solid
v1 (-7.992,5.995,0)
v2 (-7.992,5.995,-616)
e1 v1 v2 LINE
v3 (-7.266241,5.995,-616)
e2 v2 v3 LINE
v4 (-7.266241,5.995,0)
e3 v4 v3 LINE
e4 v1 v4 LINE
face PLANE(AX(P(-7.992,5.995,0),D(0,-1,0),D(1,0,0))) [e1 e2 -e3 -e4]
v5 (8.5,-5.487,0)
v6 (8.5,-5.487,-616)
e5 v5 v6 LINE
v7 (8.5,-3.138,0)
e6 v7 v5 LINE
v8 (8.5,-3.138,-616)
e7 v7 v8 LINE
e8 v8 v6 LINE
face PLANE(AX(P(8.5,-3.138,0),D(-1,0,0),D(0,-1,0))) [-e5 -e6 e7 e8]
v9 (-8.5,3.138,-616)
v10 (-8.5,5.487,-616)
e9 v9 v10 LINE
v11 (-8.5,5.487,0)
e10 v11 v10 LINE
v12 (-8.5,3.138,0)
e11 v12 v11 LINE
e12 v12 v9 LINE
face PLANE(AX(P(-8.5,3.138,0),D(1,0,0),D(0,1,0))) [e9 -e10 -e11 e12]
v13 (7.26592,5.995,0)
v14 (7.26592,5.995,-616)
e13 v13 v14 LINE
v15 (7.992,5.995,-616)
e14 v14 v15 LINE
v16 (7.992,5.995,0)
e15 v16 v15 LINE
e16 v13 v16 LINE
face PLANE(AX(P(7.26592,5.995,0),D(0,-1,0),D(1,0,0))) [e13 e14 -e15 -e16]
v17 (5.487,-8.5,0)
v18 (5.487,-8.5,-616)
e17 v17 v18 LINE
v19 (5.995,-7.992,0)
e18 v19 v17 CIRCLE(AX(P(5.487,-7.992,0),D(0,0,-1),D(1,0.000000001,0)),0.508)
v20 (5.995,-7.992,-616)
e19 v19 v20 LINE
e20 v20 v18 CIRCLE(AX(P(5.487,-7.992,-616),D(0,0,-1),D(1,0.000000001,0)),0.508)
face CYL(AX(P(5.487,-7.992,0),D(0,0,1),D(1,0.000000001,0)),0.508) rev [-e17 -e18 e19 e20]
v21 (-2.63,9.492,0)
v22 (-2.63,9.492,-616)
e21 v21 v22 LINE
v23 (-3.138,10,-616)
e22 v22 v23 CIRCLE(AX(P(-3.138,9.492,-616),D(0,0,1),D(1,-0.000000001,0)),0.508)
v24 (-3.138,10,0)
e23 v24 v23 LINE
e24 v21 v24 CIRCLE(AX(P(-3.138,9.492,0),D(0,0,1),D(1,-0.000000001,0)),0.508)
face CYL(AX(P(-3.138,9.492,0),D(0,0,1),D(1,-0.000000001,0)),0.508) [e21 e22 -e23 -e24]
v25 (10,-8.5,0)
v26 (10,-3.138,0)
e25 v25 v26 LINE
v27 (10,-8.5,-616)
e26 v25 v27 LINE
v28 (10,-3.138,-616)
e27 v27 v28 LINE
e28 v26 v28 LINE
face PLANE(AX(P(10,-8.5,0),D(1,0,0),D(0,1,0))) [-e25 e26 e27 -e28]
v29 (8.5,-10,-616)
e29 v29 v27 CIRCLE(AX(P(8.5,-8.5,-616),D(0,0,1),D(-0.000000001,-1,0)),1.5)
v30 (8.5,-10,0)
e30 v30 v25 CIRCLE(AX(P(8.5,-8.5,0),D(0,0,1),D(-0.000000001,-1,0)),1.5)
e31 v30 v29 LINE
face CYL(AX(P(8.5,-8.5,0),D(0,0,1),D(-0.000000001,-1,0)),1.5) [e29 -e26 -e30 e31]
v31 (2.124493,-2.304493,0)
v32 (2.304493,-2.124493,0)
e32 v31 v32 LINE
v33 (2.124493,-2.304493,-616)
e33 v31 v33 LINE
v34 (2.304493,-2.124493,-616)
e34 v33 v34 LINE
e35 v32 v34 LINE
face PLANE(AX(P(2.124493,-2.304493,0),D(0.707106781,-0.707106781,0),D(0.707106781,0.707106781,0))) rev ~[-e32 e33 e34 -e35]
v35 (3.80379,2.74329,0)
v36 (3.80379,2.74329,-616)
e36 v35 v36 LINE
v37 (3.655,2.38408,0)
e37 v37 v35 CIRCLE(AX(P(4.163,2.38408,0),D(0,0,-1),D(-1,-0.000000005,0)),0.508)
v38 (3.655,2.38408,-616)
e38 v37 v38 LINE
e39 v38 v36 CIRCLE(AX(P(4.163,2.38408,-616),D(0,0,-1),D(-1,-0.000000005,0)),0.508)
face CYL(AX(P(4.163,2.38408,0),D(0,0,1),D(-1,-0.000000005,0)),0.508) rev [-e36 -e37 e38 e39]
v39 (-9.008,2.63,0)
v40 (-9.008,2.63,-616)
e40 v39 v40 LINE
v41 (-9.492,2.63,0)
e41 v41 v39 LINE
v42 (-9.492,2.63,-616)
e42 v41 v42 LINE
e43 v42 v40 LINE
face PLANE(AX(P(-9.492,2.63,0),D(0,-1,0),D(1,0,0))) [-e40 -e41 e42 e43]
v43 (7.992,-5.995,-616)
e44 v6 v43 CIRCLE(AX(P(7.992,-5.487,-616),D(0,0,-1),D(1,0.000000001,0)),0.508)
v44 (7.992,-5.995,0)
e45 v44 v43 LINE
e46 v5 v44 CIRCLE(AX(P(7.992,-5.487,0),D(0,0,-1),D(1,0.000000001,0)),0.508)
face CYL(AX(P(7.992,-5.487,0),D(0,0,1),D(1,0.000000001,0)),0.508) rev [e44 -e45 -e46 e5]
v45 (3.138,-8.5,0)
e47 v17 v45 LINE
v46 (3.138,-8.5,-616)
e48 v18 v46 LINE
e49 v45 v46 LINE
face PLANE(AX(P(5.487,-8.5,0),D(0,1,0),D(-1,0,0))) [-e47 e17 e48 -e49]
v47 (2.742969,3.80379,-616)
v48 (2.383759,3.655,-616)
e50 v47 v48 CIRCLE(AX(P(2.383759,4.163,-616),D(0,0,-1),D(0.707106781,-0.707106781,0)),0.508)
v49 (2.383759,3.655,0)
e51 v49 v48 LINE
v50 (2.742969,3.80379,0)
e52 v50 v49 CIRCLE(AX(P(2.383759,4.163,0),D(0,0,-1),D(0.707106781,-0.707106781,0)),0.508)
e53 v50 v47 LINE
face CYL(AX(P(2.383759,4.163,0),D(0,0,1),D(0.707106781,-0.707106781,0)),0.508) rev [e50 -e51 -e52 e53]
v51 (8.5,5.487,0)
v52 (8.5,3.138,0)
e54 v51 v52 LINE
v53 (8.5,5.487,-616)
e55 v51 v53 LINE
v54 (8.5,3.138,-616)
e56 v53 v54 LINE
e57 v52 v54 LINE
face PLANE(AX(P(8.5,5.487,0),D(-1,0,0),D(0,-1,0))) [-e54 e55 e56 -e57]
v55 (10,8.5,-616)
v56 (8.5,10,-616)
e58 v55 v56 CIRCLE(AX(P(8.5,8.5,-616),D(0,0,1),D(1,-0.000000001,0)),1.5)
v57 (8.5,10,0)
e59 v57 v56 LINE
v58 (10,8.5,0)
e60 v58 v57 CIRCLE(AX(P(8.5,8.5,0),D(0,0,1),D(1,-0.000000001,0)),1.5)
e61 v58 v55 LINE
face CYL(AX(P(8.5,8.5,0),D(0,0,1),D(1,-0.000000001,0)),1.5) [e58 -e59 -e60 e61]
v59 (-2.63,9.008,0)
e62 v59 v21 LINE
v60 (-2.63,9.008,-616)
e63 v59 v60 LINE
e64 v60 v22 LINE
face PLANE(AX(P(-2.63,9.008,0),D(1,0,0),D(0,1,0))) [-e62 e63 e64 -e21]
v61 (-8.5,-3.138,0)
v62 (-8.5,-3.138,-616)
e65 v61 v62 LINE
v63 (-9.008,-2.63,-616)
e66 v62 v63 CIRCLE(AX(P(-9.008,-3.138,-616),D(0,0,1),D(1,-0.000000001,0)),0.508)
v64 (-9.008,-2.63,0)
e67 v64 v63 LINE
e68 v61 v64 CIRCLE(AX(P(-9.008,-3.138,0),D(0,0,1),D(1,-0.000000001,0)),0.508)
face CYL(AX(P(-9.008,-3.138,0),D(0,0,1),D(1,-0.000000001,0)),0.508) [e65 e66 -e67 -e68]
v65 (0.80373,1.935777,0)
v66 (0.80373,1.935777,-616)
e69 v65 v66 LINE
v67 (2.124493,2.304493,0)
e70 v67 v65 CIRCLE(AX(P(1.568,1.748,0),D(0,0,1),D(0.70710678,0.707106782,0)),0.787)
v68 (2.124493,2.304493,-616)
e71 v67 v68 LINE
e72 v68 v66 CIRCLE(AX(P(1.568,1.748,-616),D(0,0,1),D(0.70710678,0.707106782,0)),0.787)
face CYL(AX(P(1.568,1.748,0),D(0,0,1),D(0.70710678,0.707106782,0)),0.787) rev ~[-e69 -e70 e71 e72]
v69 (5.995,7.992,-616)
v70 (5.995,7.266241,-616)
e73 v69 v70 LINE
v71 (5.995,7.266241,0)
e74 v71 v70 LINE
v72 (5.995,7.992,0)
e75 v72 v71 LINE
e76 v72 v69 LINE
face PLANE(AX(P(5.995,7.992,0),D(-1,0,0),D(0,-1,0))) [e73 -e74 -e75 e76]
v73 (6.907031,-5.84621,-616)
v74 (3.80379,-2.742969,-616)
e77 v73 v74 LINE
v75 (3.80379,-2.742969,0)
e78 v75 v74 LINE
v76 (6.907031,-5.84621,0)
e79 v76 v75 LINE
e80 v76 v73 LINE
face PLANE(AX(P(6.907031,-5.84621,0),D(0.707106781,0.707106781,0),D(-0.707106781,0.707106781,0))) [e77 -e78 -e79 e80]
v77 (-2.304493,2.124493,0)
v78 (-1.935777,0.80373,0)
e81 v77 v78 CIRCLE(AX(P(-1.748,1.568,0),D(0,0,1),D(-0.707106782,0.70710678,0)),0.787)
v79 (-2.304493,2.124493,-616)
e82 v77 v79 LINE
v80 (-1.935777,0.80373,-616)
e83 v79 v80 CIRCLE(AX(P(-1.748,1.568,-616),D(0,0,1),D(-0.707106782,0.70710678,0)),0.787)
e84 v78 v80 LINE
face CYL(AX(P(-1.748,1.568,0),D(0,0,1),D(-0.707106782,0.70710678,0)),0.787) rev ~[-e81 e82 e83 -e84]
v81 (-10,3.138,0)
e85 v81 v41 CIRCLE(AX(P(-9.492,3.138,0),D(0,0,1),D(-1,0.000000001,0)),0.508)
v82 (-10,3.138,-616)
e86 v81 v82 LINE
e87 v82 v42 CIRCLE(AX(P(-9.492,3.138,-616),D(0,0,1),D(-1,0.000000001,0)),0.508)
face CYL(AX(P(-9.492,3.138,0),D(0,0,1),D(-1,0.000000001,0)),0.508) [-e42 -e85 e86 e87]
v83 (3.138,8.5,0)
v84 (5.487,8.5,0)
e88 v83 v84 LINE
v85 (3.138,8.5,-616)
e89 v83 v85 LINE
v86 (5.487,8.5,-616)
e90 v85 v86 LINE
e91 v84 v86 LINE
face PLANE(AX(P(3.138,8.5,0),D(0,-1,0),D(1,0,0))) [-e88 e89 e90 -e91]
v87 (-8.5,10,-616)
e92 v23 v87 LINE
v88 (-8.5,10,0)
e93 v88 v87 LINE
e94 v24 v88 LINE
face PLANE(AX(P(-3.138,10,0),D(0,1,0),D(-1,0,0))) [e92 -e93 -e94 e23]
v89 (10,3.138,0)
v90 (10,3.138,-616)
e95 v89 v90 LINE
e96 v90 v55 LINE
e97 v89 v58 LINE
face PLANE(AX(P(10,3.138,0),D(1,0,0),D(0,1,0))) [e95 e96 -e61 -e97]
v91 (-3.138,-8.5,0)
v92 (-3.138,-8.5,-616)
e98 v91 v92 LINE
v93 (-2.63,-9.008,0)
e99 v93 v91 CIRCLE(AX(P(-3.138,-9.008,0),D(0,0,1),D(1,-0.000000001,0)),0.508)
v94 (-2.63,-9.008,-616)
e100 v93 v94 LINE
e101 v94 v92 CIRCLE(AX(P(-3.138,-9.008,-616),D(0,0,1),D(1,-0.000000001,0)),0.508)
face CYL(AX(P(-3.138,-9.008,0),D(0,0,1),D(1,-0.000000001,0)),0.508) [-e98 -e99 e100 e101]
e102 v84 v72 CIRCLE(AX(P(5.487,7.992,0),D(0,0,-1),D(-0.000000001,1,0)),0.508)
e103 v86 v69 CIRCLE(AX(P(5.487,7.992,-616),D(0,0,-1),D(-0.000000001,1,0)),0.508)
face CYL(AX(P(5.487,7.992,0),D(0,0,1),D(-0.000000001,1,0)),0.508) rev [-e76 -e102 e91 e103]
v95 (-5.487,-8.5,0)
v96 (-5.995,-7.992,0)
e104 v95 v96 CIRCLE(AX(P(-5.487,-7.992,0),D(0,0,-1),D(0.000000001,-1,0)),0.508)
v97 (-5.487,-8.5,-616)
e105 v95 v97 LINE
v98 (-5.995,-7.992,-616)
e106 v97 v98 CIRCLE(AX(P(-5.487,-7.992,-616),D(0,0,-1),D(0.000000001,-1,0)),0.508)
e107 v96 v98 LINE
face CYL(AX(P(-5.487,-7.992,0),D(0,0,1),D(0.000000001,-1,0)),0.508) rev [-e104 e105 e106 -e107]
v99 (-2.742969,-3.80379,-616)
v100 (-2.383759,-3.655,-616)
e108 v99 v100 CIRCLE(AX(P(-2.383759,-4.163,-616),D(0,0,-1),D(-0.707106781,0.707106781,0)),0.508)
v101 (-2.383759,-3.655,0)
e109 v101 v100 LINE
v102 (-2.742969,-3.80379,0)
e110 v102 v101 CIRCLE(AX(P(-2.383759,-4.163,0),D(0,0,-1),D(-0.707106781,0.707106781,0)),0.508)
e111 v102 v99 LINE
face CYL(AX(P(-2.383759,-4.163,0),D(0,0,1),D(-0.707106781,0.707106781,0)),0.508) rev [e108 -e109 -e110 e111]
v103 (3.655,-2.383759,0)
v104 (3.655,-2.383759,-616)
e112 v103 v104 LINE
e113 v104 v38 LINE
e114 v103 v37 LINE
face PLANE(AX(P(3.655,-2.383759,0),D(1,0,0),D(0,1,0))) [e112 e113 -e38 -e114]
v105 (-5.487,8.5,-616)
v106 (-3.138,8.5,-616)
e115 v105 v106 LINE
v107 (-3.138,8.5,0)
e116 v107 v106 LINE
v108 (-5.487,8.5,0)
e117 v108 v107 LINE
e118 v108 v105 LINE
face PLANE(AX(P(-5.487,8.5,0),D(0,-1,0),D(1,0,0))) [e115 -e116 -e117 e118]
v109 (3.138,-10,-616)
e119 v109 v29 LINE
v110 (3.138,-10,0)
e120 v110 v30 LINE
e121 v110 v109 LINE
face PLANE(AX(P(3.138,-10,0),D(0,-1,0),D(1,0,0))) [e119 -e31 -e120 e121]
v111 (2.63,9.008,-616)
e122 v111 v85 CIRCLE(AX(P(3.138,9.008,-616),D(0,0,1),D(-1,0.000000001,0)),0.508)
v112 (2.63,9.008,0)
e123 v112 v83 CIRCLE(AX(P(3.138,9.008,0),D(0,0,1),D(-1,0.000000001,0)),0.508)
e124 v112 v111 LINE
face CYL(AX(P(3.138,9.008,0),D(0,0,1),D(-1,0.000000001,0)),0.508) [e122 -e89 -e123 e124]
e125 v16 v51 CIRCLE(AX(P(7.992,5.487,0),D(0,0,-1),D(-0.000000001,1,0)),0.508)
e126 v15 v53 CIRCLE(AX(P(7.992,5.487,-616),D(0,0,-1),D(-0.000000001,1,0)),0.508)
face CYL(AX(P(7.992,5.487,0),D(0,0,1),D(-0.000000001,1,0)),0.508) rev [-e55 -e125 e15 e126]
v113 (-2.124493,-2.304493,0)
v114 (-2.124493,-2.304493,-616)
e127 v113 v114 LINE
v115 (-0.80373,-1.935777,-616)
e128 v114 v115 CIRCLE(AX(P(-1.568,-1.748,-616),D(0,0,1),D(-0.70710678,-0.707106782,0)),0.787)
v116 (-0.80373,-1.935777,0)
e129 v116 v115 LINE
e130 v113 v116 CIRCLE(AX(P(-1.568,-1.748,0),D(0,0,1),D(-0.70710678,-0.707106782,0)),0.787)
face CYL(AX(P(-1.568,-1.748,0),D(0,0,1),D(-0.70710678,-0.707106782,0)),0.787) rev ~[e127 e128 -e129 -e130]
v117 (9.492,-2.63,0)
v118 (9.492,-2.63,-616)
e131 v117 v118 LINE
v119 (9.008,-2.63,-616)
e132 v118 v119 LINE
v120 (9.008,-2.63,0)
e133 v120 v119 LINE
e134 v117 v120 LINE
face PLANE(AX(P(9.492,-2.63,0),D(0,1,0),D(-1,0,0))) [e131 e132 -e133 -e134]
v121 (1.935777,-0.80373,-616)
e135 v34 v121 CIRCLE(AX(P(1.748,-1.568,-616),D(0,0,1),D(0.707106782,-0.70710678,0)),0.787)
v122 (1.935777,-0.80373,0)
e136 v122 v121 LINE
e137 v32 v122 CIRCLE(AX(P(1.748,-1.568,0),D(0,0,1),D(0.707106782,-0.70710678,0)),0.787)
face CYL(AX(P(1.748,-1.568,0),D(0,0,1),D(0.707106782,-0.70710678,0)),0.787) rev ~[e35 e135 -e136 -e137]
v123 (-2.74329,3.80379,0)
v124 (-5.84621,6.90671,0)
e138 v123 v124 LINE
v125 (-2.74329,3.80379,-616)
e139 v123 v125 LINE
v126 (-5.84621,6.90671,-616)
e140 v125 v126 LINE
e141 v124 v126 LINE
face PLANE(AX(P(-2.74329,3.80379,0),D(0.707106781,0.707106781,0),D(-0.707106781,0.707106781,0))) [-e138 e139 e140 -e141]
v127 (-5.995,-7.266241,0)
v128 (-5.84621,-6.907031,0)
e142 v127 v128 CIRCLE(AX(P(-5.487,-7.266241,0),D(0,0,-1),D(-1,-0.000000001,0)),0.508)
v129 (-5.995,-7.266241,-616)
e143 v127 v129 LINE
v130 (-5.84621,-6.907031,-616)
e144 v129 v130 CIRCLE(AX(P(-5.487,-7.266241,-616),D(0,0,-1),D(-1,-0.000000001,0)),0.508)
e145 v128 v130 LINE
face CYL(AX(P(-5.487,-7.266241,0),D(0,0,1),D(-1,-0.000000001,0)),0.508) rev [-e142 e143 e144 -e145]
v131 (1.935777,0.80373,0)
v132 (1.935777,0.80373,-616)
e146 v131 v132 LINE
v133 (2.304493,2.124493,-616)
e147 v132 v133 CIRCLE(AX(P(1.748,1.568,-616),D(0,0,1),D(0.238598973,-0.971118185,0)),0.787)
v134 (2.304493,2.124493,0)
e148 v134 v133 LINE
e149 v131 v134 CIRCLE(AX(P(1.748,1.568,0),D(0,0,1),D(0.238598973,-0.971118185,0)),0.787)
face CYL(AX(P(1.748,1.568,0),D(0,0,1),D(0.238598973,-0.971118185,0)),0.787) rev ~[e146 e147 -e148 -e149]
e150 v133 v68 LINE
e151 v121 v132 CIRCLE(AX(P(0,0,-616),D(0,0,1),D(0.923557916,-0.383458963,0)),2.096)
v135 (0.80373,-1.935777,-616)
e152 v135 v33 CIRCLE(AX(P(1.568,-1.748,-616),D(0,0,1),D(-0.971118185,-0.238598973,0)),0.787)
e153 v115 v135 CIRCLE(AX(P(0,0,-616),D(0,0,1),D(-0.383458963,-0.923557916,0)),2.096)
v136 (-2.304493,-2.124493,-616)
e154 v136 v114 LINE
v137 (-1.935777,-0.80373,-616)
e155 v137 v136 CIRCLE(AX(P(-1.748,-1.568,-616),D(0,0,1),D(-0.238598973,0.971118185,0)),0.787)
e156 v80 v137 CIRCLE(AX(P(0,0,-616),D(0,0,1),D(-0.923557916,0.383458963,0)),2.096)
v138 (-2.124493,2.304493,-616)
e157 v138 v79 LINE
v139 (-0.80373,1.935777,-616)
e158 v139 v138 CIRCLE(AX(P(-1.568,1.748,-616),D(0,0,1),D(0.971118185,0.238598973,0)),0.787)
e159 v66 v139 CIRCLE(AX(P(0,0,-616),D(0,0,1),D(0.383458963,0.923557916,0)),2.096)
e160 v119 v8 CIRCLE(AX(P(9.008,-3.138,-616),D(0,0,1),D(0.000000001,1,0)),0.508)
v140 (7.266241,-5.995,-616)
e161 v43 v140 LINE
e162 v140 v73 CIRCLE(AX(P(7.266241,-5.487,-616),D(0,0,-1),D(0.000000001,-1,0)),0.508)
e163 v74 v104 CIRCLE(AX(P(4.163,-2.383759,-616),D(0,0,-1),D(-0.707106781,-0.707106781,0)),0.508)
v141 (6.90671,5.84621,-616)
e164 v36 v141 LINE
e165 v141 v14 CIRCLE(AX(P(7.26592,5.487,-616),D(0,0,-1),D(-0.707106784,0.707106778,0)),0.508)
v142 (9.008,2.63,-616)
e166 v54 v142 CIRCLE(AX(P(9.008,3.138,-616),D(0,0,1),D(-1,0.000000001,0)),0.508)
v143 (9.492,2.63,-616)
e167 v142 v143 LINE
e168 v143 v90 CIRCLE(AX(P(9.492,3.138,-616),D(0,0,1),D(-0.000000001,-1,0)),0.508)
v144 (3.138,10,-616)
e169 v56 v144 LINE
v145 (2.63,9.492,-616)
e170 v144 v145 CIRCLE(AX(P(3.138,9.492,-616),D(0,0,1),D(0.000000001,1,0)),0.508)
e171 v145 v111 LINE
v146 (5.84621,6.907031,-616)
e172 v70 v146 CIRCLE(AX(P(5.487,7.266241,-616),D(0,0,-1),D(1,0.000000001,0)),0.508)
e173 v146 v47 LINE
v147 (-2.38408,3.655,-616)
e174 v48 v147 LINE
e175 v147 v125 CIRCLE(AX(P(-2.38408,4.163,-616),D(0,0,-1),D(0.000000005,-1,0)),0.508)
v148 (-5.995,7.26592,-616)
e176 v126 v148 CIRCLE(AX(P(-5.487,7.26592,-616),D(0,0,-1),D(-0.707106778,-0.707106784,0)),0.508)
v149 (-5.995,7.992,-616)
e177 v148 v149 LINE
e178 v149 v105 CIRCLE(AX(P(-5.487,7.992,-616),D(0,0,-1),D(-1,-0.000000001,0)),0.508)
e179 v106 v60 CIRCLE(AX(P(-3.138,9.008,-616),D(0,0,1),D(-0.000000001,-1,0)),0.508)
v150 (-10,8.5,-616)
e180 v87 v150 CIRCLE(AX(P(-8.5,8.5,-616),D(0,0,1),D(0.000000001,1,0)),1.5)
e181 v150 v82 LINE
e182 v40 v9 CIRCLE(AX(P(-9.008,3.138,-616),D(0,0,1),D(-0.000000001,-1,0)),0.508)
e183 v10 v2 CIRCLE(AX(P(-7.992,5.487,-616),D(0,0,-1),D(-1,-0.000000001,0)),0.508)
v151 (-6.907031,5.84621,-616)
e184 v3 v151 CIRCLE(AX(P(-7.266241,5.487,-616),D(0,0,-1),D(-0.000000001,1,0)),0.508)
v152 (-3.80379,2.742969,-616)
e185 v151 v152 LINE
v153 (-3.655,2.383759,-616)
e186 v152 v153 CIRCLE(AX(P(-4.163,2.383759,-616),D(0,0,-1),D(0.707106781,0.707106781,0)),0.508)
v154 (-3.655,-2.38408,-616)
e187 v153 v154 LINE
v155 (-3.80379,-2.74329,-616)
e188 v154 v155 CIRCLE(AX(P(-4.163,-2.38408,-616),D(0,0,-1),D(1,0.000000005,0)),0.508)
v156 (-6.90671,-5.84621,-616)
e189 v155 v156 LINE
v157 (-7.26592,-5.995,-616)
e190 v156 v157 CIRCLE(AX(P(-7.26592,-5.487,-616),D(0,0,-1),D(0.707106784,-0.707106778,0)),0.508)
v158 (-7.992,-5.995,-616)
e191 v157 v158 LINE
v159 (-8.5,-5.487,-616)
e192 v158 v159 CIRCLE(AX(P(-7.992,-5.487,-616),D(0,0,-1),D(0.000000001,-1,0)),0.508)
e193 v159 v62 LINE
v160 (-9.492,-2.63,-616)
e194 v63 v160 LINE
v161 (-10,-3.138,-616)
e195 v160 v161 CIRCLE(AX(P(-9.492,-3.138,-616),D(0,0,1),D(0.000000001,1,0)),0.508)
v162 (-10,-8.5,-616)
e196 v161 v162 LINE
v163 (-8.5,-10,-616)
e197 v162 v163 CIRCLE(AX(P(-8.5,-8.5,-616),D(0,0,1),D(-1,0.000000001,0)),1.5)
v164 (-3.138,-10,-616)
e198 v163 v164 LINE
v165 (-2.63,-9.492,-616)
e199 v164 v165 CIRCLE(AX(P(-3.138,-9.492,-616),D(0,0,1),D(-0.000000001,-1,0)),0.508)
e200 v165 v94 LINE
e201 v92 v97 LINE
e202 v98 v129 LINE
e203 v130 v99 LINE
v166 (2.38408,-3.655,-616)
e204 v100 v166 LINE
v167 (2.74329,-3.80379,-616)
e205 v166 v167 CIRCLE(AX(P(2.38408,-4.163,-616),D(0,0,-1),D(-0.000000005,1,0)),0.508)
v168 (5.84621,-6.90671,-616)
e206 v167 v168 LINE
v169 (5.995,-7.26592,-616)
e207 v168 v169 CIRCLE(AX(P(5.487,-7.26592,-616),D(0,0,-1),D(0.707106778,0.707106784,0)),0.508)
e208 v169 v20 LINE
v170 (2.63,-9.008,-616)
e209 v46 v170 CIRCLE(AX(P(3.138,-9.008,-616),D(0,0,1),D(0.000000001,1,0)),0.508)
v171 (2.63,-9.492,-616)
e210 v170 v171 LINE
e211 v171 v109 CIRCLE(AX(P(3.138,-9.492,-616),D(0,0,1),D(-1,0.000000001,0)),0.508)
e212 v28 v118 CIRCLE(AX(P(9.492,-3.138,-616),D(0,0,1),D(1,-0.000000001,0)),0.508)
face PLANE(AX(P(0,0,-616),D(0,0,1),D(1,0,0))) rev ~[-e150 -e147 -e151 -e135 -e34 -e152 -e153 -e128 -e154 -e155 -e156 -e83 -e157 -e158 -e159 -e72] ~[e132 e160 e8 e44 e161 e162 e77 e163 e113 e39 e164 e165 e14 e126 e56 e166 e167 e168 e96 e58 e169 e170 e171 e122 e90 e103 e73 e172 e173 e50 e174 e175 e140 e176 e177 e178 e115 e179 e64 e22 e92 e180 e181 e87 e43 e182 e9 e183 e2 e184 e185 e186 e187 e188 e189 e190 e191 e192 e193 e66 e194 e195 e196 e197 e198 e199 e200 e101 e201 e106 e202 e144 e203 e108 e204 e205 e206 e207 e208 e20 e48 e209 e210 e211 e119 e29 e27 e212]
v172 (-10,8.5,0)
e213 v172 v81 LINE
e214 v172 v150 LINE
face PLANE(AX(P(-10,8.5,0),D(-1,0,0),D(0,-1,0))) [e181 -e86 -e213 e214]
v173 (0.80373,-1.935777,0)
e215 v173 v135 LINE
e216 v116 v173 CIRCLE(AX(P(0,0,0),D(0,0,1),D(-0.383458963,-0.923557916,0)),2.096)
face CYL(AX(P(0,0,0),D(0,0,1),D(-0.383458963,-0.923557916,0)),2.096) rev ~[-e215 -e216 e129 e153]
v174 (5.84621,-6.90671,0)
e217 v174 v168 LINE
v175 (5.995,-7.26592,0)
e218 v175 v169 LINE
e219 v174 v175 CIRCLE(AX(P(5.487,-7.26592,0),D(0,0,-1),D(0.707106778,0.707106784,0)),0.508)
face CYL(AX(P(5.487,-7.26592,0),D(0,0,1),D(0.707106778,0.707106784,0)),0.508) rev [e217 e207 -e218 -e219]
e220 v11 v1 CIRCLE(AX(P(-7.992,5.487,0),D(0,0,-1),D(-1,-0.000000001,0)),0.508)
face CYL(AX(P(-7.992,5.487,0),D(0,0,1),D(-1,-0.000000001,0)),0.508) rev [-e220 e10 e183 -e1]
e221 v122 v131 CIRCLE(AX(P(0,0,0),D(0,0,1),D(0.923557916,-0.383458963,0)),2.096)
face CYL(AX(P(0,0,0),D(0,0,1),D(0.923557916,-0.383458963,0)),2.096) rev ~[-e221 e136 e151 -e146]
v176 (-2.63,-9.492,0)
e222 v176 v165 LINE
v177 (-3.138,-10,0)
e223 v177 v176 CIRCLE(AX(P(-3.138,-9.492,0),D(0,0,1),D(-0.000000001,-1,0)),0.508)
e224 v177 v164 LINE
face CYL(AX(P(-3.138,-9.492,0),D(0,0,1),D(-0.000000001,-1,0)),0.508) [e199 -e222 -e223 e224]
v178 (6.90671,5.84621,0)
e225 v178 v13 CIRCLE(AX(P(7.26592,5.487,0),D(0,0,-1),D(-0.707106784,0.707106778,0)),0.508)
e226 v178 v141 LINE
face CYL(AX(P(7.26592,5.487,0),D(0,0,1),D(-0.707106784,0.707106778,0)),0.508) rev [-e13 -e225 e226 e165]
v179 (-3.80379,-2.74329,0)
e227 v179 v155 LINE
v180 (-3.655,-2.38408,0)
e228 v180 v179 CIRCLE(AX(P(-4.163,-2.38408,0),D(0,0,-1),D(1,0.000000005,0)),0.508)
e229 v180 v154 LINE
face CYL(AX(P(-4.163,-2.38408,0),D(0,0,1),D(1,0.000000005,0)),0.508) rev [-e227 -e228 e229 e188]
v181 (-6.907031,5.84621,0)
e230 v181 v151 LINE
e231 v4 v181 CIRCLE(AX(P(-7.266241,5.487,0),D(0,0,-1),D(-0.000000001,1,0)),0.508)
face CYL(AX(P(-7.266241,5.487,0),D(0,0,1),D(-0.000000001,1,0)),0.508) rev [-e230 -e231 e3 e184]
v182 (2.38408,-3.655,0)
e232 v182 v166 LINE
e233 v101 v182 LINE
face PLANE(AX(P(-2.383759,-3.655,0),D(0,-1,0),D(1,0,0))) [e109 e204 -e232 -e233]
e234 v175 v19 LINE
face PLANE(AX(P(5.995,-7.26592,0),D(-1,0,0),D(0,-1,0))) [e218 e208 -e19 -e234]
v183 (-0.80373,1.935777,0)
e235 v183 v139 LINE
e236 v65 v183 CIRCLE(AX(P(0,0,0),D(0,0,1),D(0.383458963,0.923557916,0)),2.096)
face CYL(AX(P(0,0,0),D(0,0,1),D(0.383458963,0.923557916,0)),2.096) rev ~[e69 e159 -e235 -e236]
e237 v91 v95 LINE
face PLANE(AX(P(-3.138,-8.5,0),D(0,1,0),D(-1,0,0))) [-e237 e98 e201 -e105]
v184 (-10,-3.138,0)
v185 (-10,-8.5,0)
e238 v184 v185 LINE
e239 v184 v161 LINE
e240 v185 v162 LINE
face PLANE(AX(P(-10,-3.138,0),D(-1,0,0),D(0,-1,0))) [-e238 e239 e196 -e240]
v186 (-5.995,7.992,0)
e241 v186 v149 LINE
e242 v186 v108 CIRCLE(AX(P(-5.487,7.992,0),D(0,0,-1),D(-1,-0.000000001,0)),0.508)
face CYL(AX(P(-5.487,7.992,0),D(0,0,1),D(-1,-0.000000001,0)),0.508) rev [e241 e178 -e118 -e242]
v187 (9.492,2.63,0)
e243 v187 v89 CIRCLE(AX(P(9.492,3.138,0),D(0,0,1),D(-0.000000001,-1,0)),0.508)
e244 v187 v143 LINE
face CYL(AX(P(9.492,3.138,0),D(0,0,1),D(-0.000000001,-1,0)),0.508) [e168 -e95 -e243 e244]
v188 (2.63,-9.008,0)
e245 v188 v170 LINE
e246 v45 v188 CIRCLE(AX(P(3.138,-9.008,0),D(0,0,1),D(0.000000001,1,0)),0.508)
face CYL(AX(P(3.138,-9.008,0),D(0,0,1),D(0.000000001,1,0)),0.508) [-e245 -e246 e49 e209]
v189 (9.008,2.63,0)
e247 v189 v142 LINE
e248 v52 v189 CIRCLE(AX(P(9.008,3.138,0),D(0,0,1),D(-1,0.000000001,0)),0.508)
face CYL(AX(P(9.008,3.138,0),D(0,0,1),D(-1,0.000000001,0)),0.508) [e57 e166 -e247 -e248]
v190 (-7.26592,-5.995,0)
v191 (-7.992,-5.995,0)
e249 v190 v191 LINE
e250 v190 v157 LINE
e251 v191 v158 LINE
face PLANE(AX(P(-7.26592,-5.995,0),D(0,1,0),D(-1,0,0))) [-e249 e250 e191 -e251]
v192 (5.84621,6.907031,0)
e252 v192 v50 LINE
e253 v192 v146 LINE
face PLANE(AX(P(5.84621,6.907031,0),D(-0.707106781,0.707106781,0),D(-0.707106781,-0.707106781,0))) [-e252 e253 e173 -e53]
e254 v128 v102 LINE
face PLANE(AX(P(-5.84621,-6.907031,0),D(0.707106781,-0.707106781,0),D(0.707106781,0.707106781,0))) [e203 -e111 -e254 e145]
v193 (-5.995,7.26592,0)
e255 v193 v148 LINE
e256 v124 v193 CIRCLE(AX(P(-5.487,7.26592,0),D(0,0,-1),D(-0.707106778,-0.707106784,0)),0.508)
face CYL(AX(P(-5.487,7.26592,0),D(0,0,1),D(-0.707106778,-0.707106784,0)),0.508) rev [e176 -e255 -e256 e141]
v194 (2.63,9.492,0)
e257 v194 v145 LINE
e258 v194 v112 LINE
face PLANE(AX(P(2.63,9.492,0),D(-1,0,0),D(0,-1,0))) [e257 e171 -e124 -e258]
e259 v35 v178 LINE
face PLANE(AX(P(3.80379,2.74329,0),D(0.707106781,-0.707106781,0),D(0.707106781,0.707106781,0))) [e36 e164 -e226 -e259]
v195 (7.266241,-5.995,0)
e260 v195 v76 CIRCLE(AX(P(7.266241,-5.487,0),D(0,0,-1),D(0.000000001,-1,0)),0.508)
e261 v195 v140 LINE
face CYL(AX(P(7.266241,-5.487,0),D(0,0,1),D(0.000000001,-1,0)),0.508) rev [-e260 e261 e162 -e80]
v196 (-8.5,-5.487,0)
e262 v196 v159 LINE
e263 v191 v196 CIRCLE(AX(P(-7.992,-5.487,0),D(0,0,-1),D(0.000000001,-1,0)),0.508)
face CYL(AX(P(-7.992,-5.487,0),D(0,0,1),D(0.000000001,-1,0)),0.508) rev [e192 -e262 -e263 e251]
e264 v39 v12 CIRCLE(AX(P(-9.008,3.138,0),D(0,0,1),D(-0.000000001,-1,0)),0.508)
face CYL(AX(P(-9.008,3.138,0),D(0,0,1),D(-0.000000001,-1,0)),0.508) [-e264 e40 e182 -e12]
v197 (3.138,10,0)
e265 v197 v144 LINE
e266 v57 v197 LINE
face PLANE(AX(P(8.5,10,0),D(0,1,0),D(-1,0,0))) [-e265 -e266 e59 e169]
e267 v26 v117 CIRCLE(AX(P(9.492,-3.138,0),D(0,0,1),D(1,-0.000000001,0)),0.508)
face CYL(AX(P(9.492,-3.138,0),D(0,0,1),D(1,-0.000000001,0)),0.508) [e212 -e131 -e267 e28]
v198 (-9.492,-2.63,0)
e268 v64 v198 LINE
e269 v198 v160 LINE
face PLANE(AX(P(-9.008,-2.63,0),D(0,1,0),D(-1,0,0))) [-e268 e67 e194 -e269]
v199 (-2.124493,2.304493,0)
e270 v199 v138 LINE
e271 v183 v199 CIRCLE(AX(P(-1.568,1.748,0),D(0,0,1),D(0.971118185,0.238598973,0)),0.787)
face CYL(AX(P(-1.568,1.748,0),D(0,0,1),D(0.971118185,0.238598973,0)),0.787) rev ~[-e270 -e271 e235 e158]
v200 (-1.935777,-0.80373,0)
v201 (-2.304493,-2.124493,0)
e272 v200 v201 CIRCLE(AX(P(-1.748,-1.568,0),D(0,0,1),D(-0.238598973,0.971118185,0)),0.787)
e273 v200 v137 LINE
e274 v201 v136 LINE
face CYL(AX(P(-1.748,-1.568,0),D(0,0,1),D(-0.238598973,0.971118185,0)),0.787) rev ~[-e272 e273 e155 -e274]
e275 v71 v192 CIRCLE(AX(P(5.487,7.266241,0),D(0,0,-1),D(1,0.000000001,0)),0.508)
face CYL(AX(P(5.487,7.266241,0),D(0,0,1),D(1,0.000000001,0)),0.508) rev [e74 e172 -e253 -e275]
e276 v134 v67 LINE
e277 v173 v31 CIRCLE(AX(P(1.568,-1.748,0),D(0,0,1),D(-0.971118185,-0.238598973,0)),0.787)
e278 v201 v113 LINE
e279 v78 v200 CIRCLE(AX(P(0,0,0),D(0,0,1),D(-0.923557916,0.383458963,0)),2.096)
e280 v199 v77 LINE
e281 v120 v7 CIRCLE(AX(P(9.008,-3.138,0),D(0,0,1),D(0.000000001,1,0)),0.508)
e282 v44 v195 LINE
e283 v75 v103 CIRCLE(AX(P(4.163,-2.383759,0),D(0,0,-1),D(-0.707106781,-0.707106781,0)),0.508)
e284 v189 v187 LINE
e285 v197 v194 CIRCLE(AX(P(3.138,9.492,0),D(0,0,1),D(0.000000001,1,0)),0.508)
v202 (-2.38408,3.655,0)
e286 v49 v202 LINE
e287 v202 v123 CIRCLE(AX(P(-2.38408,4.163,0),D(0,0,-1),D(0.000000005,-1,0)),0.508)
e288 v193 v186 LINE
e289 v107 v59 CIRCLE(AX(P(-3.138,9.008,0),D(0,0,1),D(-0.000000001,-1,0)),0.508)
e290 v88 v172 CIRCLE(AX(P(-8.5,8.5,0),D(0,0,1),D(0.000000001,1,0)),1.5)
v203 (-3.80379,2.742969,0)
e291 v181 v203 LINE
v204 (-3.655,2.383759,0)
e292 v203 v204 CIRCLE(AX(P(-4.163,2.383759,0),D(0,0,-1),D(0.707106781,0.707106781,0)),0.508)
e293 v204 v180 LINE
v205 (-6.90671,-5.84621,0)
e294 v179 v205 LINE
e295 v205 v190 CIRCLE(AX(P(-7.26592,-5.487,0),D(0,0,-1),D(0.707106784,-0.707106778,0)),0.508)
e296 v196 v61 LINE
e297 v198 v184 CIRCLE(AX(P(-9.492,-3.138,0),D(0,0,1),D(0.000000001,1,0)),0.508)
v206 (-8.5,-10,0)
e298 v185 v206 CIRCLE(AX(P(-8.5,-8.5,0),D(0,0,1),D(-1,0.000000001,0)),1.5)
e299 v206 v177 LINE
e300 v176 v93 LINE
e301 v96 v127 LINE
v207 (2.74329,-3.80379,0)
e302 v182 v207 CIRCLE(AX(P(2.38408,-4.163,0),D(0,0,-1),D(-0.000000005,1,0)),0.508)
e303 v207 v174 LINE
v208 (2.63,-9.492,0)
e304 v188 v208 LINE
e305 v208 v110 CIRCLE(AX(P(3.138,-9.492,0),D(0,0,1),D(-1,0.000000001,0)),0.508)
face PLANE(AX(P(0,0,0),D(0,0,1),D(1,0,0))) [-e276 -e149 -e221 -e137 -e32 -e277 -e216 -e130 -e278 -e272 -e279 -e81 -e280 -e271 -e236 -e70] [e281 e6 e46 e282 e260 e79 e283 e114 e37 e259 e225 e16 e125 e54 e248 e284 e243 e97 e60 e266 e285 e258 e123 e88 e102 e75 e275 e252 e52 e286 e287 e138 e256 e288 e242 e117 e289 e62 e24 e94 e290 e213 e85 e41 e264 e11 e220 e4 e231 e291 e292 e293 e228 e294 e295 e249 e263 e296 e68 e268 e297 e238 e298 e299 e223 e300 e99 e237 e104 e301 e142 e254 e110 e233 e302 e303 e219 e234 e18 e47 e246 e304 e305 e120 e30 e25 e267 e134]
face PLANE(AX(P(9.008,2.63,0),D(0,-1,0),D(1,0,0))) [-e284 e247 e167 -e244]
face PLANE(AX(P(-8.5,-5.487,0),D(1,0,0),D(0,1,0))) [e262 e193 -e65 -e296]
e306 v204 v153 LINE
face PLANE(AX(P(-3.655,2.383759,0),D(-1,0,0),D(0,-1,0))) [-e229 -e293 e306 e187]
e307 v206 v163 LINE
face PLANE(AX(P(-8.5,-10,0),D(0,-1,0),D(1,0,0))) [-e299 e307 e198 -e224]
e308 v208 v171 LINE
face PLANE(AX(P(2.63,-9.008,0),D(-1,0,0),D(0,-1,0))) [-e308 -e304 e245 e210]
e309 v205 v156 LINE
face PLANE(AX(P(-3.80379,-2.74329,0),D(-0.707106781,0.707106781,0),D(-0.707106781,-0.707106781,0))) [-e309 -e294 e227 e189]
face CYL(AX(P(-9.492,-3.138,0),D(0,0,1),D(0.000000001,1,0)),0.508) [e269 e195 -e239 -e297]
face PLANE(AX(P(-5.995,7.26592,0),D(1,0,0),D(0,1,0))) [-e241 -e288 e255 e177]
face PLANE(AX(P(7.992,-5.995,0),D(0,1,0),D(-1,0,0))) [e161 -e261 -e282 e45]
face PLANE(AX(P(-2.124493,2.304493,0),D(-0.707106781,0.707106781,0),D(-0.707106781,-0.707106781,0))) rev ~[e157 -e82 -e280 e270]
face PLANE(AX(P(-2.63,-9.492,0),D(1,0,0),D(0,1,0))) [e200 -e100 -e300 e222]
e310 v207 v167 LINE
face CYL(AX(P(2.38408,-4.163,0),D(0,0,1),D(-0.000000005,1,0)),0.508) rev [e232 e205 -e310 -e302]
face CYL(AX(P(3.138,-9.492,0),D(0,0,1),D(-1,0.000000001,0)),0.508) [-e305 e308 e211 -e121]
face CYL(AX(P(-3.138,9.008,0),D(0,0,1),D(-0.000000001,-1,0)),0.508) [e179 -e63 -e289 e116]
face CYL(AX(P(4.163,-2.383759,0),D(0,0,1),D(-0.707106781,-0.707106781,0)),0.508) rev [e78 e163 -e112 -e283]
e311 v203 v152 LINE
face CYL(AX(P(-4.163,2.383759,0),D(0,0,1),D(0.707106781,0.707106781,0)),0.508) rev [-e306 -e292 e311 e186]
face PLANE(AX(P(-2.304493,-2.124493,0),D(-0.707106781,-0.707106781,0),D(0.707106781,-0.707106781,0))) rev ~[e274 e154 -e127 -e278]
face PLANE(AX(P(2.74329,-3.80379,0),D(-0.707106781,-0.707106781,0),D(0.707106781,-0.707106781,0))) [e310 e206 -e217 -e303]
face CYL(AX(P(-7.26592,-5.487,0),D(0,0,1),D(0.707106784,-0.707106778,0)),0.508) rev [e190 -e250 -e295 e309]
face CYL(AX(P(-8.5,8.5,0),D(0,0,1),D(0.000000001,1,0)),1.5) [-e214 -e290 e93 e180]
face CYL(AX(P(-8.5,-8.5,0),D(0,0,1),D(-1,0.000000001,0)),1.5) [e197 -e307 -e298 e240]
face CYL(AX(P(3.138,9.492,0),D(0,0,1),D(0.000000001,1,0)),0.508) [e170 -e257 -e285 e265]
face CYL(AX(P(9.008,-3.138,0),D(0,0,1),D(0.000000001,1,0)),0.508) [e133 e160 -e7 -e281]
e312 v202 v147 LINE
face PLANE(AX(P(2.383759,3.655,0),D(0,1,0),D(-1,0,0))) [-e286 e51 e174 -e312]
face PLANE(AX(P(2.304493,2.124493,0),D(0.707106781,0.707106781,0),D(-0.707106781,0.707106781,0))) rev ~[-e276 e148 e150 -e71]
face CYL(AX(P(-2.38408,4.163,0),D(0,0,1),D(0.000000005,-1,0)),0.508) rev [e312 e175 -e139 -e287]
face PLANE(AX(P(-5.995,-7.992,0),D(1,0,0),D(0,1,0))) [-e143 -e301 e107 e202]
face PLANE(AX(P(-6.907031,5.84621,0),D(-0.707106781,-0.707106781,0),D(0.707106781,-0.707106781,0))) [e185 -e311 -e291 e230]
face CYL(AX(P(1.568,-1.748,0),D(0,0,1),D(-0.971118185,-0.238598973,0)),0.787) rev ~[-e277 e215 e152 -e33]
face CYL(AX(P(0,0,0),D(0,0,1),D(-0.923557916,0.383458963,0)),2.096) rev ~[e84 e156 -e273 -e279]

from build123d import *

# Parameters (mm, degrees)
BOSS_EXTRUDE1_DEPTH = 616


with BuildPart() as part:
    # Sketch2 → Boss-Extrude1 (new body)
    with BuildSketch(Plane.XY):
        with BuildLine():
            Line((-10, -3.138), (-10, -8.5))
            ThreePointArc((-10, -8.5), (-9.560660172, -9.560660172), (-8.5, -10))
            Line((-8.5, -10), (-3.138, -10))
            ThreePointArc((-3.138, -10), (-2.778789755, -9.851210245), (-2.63, -9.492))
            Line((-2.63, -9.492), (-2.63, -9.008))
            ThreePointArc((-2.63, -9.008), (-2.778789755, -8.648789755), (-3.138, -8.5))
            Line((-3.138, -8.5), (-5.487, -8.5))
            ThreePointArc((-5.487, -8.5), (-5.846210245, -8.351210245), (-5.995, -7.992))
            Line((-5.995, -7.992), (-5.995, -7.266240833))
            ThreePointArc((-5.995, -7.266240833), (-5.956330803, -7.07183765), (-5.846210245, -6.907030588))
            Line((-5.846210245, -6.907030588), (-2.742969412, -3.803789755))
            ThreePointArc((-2.742969412, -3.803789755), (-2.57816235, -3.693669197), (-2.383759167, -3.655))
            Line((-2.383759167, -3.655), (2.38407951, -3.655))
            ThreePointArc((2.38407951, -3.655), (2.578482694, -3.693669197), (2.743289755, -3.803789755))
            Line((2.743289755, -3.803789755), (5.846210245, -6.906710245))
            ThreePointArc((5.846210245, -6.906710245), (5.956330803, -7.071517306), (5.995, -7.26592049))
            Line((5.995, -7.26592049), (5.995, -7.992))
            ThreePointArc((5.995, -7.992), (5.846210245, -8.351210245), (5.487, -8.5))
            Line((5.487, -8.5), (3.138, -8.5))
            ThreePointArc((3.138, -8.5), (2.778789755, -8.648789755), (2.63, -9.008))
            Line((2.63, -9.008), (2.63, -9.492))
            ThreePointArc((2.63, -9.492), (2.778789755, -9.851210245), (3.138, -10))
            Line((3.138, -10), (8.5, -10))
            ThreePointArc((8.5, -10), (9.560660172, -9.560660172), (10, -8.5))
            Line((10, -8.5), (10, -3.138))
            ThreePointArc((10, -3.138), (9.851210245, -2.778789755), (9.492, -2.63))
            Line((9.492, -2.63), (9.008, -2.63))
            ThreePointArc((9.008, -2.63), (8.648789755, -2.778789755), (8.5, -3.138))
            Line((8.5, -3.138), (8.5, -5.487))
            ThreePointArc((8.5, -5.487), (8.351210245, -5.846210245), (7.992, -5.995))
            Line((7.992, -5.995), (7.266240833, -5.995))
            ThreePointArc((7.266240833, -5.995), (7.07183765, -5.956330803), (6.907030588, -5.846210245))
            Line((6.907030588, -5.846210245), (3.803789755, -2.742969412))
            ThreePointArc((3.803789755, -2.742969412), (3.693669197, -2.57816235), (3.655, -2.383759167))
            Line((3.655, -2.383759167), (3.655, 2.38407951))
            ThreePointArc((3.655, 2.38407951), (3.693669197, 2.578482694), (3.803789755, 2.743289755))
            Line((3.803789755, 2.743289755), (6.906710245, 5.846210245))
            ThreePointArc((6.906710245, 5.846210245), (7.071517306, 5.956330803), (7.26592049, 5.995))
            Line((7.26592049, 5.995), (7.992, 5.995))
            ThreePointArc((7.992, 5.995), (8.351210245, 5.846210245), (8.5, 5.487))
            Line((8.5, 5.487), (8.5, 3.138))
            ThreePointArc((8.5, 3.138), (8.648789755, 2.778789755), (9.008, 2.63))
            Line((9.008, 2.63), (9.492, 2.63))
            ThreePointArc((9.492, 2.63), (9.851210245, 2.778789755), (10, 3.138))
            Line((10, 3.138), (10, 8.5))
            ThreePointArc((10, 8.5), (9.560660172, 9.560660172), (8.5, 10))
            Line((8.5, 10), (3.138, 10))
            ThreePointArc((3.138, 10), (2.778789755, 9.851210245), (2.63, 9.492))
            Line((2.63, 9.492), (2.63, 9.008))
            ThreePointArc((2.63, 9.008), (2.778789755, 8.648789755), (3.138, 8.5))
            Line((3.138, 8.5), (5.487, 8.5))
            ThreePointArc((5.487, 8.5), (5.846210245, 8.351210245), (5.995, 7.992))
            Line((5.995, 7.992), (5.995, 7.266240833))
            ThreePointArc((5.995, 7.266240833), (5.956330803, 7.07183765), (5.846210245, 6.907030588))
            Line((5.846210245, 6.907030588), (2.742969412, 3.803789755))
            ThreePointArc((2.742969412, 3.803789755), (2.57816235, 3.693669197), (2.383759167, 3.655))
            Line((2.383759167, 3.655), (-2.38407951, 3.655))
            ThreePointArc((-2.38407951, 3.655), (-2.578482694, 3.693669197), (-2.743289755, 3.803789755))
            Line((-2.743289755, 3.803789755), (-5.846210245, 6.906710245))
            ThreePointArc((-5.846210245, 6.906710245), (-5.956330803, 7.071517306), (-5.995, 7.26592049))
            Line((-5.995, 7.26592049), (-5.995, 7.992))
            ThreePointArc((-5.995, 7.992), (-5.846210245, 8.351210245), (-5.487, 8.5))
            Line((-5.487, 8.5), (-3.138, 8.5))
            ThreePointArc((-3.138, 8.5), (-2.778789755, 8.648789755), (-2.63, 9.008))
            Line((-2.63, 9.008), (-2.63, 9.492))
            ThreePointArc((-2.63, 9.492), (-2.778789755, 9.851210245), (-3.138, 10))
            Line((-3.138, 10), (-8.5, 10))
            ThreePointArc((-8.5, 10), (-9.560660172, 9.560660172), (-10, 8.5))
            Line((-10, 8.5), (-10, 3.138))
            ThreePointArc((-10, 3.138), (-9.851210245, 2.778789755), (-9.492, 2.63))
            Line((-9.492, 2.63), (-9.008, 2.63))
            ThreePointArc((-9.008, 2.63), (-8.648789755, 2.778789755), (-8.5, 3.138))
            Line((-8.5, 3.138), (-8.5, 5.487))
            ThreePointArc((-8.5, 5.487), (-8.351210245, 5.846210245), (-7.992, 5.995))
            Line((-7.992, 5.995), (-7.266240833, 5.995))
            ThreePointArc((-7.266240833, 5.995), (-7.07183765, 5.956330803), (-6.907030588, 5.846210245))
            Line((-6.907030588, 5.846210245), (-3.803789755, 2.742969412))
            ThreePointArc((-3.803789755, 2.742969412), (-3.693669197, 2.57816235), (-3.655, 2.383759167))
            Line((-3.655, 2.383759167), (-3.655, -2.38407951))
            ThreePointArc((-3.655, -2.38407951), (-3.693669197, -2.578482694), (-3.803789755, -2.743289755))
            Line((-3.803789755, -2.743289755), (-6.906710245, -5.846210245))
            ThreePointArc((-6.906710245, -5.846210245), (-7.071517306, -5.956330803), (-7.26592049, -5.995))
            Line((-7.26592049, -5.995), (-7.992, -5.995))
            ThreePointArc((-7.992, -5.995), (-8.351210245, -5.846210245), (-8.5, -5.487))
            Line((-8.5, -5.487), (-8.5, -3.138))
            ThreePointArc((-8.5, -3.138), (-8.648789755, -2.778789755), (-9.008, -2.63))
            Line((-9.008, -2.63), (-9.492, -2.63))
            ThreePointArc((-9.492, -2.63), (-9.851210245, -2.778789755), (-10, -3.138))
        make_face()
        with BuildLine():
            Line((-2.124493037, 2.304493037), (-2.304493037, 2.124493037))
            ThreePointArc((-2.304493037, 2.124493037), (-2.506016078, 1.35638567), (-1.935777391, 0.803729988))
            ThreePointArc((-1.935777391, 0.803729988), (-2.096, 0), (-1.935777391, -0.803729988))
            ThreePointArc((-1.935777391, -0.803729988), (-2.506016078, -1.35638567), (-2.304493037, -2.124493037))
            Line((-2.304493037, -2.124493037), (-2.124493037, -2.304493037))
            ThreePointArc((-2.124493037, -2.304493037), (-1.35638567, -2.506016078), (-0.803729988, -1.935777391))
            ThreePointArc((-0.803729988, -1.935777391), (0, -2.096), (0.803729988, -1.935777391))
            ThreePointArc((0.803729988, -1.935777391), (1.35638567, -2.506016078), (2.124493037, -2.304493037))
            Line((2.124493037, -2.304493037), (2.304493037, -2.124493037))
            ThreePointArc((2.304493037, -2.124493037), (2.506016078, -1.35638567), (1.935777391, -0.803729988))
            ThreePointArc((1.935777391, -0.803729988), (2.096, 0), (1.935777391, 0.803729988))
            ThreePointArc((1.935777391, 0.803729988), (2.506016078, 1.35638567), (2.304493037, 2.124493037))
            Line((2.304493037, 2.124493037), (2.124493037, 2.304493037))
            ThreePointArc((2.124493037, 2.304493037), (1.35638567, 2.506016078), (0.803729988, 1.935777391))
            ThreePointArc((0.803729988, 1.935777391), (0, 2.096), (-0.803729988, 1.935777391))
            ThreePointArc((-0.803729988, 1.935777391), (-1.35638567, 2.506016078), (-2.124493037, 2.304493037))
        make_face(mode=Mode.SUBTRACT)
    extrude(amount=-BOSS_EXTRUDE1_DEPTH)


solid = part.part
